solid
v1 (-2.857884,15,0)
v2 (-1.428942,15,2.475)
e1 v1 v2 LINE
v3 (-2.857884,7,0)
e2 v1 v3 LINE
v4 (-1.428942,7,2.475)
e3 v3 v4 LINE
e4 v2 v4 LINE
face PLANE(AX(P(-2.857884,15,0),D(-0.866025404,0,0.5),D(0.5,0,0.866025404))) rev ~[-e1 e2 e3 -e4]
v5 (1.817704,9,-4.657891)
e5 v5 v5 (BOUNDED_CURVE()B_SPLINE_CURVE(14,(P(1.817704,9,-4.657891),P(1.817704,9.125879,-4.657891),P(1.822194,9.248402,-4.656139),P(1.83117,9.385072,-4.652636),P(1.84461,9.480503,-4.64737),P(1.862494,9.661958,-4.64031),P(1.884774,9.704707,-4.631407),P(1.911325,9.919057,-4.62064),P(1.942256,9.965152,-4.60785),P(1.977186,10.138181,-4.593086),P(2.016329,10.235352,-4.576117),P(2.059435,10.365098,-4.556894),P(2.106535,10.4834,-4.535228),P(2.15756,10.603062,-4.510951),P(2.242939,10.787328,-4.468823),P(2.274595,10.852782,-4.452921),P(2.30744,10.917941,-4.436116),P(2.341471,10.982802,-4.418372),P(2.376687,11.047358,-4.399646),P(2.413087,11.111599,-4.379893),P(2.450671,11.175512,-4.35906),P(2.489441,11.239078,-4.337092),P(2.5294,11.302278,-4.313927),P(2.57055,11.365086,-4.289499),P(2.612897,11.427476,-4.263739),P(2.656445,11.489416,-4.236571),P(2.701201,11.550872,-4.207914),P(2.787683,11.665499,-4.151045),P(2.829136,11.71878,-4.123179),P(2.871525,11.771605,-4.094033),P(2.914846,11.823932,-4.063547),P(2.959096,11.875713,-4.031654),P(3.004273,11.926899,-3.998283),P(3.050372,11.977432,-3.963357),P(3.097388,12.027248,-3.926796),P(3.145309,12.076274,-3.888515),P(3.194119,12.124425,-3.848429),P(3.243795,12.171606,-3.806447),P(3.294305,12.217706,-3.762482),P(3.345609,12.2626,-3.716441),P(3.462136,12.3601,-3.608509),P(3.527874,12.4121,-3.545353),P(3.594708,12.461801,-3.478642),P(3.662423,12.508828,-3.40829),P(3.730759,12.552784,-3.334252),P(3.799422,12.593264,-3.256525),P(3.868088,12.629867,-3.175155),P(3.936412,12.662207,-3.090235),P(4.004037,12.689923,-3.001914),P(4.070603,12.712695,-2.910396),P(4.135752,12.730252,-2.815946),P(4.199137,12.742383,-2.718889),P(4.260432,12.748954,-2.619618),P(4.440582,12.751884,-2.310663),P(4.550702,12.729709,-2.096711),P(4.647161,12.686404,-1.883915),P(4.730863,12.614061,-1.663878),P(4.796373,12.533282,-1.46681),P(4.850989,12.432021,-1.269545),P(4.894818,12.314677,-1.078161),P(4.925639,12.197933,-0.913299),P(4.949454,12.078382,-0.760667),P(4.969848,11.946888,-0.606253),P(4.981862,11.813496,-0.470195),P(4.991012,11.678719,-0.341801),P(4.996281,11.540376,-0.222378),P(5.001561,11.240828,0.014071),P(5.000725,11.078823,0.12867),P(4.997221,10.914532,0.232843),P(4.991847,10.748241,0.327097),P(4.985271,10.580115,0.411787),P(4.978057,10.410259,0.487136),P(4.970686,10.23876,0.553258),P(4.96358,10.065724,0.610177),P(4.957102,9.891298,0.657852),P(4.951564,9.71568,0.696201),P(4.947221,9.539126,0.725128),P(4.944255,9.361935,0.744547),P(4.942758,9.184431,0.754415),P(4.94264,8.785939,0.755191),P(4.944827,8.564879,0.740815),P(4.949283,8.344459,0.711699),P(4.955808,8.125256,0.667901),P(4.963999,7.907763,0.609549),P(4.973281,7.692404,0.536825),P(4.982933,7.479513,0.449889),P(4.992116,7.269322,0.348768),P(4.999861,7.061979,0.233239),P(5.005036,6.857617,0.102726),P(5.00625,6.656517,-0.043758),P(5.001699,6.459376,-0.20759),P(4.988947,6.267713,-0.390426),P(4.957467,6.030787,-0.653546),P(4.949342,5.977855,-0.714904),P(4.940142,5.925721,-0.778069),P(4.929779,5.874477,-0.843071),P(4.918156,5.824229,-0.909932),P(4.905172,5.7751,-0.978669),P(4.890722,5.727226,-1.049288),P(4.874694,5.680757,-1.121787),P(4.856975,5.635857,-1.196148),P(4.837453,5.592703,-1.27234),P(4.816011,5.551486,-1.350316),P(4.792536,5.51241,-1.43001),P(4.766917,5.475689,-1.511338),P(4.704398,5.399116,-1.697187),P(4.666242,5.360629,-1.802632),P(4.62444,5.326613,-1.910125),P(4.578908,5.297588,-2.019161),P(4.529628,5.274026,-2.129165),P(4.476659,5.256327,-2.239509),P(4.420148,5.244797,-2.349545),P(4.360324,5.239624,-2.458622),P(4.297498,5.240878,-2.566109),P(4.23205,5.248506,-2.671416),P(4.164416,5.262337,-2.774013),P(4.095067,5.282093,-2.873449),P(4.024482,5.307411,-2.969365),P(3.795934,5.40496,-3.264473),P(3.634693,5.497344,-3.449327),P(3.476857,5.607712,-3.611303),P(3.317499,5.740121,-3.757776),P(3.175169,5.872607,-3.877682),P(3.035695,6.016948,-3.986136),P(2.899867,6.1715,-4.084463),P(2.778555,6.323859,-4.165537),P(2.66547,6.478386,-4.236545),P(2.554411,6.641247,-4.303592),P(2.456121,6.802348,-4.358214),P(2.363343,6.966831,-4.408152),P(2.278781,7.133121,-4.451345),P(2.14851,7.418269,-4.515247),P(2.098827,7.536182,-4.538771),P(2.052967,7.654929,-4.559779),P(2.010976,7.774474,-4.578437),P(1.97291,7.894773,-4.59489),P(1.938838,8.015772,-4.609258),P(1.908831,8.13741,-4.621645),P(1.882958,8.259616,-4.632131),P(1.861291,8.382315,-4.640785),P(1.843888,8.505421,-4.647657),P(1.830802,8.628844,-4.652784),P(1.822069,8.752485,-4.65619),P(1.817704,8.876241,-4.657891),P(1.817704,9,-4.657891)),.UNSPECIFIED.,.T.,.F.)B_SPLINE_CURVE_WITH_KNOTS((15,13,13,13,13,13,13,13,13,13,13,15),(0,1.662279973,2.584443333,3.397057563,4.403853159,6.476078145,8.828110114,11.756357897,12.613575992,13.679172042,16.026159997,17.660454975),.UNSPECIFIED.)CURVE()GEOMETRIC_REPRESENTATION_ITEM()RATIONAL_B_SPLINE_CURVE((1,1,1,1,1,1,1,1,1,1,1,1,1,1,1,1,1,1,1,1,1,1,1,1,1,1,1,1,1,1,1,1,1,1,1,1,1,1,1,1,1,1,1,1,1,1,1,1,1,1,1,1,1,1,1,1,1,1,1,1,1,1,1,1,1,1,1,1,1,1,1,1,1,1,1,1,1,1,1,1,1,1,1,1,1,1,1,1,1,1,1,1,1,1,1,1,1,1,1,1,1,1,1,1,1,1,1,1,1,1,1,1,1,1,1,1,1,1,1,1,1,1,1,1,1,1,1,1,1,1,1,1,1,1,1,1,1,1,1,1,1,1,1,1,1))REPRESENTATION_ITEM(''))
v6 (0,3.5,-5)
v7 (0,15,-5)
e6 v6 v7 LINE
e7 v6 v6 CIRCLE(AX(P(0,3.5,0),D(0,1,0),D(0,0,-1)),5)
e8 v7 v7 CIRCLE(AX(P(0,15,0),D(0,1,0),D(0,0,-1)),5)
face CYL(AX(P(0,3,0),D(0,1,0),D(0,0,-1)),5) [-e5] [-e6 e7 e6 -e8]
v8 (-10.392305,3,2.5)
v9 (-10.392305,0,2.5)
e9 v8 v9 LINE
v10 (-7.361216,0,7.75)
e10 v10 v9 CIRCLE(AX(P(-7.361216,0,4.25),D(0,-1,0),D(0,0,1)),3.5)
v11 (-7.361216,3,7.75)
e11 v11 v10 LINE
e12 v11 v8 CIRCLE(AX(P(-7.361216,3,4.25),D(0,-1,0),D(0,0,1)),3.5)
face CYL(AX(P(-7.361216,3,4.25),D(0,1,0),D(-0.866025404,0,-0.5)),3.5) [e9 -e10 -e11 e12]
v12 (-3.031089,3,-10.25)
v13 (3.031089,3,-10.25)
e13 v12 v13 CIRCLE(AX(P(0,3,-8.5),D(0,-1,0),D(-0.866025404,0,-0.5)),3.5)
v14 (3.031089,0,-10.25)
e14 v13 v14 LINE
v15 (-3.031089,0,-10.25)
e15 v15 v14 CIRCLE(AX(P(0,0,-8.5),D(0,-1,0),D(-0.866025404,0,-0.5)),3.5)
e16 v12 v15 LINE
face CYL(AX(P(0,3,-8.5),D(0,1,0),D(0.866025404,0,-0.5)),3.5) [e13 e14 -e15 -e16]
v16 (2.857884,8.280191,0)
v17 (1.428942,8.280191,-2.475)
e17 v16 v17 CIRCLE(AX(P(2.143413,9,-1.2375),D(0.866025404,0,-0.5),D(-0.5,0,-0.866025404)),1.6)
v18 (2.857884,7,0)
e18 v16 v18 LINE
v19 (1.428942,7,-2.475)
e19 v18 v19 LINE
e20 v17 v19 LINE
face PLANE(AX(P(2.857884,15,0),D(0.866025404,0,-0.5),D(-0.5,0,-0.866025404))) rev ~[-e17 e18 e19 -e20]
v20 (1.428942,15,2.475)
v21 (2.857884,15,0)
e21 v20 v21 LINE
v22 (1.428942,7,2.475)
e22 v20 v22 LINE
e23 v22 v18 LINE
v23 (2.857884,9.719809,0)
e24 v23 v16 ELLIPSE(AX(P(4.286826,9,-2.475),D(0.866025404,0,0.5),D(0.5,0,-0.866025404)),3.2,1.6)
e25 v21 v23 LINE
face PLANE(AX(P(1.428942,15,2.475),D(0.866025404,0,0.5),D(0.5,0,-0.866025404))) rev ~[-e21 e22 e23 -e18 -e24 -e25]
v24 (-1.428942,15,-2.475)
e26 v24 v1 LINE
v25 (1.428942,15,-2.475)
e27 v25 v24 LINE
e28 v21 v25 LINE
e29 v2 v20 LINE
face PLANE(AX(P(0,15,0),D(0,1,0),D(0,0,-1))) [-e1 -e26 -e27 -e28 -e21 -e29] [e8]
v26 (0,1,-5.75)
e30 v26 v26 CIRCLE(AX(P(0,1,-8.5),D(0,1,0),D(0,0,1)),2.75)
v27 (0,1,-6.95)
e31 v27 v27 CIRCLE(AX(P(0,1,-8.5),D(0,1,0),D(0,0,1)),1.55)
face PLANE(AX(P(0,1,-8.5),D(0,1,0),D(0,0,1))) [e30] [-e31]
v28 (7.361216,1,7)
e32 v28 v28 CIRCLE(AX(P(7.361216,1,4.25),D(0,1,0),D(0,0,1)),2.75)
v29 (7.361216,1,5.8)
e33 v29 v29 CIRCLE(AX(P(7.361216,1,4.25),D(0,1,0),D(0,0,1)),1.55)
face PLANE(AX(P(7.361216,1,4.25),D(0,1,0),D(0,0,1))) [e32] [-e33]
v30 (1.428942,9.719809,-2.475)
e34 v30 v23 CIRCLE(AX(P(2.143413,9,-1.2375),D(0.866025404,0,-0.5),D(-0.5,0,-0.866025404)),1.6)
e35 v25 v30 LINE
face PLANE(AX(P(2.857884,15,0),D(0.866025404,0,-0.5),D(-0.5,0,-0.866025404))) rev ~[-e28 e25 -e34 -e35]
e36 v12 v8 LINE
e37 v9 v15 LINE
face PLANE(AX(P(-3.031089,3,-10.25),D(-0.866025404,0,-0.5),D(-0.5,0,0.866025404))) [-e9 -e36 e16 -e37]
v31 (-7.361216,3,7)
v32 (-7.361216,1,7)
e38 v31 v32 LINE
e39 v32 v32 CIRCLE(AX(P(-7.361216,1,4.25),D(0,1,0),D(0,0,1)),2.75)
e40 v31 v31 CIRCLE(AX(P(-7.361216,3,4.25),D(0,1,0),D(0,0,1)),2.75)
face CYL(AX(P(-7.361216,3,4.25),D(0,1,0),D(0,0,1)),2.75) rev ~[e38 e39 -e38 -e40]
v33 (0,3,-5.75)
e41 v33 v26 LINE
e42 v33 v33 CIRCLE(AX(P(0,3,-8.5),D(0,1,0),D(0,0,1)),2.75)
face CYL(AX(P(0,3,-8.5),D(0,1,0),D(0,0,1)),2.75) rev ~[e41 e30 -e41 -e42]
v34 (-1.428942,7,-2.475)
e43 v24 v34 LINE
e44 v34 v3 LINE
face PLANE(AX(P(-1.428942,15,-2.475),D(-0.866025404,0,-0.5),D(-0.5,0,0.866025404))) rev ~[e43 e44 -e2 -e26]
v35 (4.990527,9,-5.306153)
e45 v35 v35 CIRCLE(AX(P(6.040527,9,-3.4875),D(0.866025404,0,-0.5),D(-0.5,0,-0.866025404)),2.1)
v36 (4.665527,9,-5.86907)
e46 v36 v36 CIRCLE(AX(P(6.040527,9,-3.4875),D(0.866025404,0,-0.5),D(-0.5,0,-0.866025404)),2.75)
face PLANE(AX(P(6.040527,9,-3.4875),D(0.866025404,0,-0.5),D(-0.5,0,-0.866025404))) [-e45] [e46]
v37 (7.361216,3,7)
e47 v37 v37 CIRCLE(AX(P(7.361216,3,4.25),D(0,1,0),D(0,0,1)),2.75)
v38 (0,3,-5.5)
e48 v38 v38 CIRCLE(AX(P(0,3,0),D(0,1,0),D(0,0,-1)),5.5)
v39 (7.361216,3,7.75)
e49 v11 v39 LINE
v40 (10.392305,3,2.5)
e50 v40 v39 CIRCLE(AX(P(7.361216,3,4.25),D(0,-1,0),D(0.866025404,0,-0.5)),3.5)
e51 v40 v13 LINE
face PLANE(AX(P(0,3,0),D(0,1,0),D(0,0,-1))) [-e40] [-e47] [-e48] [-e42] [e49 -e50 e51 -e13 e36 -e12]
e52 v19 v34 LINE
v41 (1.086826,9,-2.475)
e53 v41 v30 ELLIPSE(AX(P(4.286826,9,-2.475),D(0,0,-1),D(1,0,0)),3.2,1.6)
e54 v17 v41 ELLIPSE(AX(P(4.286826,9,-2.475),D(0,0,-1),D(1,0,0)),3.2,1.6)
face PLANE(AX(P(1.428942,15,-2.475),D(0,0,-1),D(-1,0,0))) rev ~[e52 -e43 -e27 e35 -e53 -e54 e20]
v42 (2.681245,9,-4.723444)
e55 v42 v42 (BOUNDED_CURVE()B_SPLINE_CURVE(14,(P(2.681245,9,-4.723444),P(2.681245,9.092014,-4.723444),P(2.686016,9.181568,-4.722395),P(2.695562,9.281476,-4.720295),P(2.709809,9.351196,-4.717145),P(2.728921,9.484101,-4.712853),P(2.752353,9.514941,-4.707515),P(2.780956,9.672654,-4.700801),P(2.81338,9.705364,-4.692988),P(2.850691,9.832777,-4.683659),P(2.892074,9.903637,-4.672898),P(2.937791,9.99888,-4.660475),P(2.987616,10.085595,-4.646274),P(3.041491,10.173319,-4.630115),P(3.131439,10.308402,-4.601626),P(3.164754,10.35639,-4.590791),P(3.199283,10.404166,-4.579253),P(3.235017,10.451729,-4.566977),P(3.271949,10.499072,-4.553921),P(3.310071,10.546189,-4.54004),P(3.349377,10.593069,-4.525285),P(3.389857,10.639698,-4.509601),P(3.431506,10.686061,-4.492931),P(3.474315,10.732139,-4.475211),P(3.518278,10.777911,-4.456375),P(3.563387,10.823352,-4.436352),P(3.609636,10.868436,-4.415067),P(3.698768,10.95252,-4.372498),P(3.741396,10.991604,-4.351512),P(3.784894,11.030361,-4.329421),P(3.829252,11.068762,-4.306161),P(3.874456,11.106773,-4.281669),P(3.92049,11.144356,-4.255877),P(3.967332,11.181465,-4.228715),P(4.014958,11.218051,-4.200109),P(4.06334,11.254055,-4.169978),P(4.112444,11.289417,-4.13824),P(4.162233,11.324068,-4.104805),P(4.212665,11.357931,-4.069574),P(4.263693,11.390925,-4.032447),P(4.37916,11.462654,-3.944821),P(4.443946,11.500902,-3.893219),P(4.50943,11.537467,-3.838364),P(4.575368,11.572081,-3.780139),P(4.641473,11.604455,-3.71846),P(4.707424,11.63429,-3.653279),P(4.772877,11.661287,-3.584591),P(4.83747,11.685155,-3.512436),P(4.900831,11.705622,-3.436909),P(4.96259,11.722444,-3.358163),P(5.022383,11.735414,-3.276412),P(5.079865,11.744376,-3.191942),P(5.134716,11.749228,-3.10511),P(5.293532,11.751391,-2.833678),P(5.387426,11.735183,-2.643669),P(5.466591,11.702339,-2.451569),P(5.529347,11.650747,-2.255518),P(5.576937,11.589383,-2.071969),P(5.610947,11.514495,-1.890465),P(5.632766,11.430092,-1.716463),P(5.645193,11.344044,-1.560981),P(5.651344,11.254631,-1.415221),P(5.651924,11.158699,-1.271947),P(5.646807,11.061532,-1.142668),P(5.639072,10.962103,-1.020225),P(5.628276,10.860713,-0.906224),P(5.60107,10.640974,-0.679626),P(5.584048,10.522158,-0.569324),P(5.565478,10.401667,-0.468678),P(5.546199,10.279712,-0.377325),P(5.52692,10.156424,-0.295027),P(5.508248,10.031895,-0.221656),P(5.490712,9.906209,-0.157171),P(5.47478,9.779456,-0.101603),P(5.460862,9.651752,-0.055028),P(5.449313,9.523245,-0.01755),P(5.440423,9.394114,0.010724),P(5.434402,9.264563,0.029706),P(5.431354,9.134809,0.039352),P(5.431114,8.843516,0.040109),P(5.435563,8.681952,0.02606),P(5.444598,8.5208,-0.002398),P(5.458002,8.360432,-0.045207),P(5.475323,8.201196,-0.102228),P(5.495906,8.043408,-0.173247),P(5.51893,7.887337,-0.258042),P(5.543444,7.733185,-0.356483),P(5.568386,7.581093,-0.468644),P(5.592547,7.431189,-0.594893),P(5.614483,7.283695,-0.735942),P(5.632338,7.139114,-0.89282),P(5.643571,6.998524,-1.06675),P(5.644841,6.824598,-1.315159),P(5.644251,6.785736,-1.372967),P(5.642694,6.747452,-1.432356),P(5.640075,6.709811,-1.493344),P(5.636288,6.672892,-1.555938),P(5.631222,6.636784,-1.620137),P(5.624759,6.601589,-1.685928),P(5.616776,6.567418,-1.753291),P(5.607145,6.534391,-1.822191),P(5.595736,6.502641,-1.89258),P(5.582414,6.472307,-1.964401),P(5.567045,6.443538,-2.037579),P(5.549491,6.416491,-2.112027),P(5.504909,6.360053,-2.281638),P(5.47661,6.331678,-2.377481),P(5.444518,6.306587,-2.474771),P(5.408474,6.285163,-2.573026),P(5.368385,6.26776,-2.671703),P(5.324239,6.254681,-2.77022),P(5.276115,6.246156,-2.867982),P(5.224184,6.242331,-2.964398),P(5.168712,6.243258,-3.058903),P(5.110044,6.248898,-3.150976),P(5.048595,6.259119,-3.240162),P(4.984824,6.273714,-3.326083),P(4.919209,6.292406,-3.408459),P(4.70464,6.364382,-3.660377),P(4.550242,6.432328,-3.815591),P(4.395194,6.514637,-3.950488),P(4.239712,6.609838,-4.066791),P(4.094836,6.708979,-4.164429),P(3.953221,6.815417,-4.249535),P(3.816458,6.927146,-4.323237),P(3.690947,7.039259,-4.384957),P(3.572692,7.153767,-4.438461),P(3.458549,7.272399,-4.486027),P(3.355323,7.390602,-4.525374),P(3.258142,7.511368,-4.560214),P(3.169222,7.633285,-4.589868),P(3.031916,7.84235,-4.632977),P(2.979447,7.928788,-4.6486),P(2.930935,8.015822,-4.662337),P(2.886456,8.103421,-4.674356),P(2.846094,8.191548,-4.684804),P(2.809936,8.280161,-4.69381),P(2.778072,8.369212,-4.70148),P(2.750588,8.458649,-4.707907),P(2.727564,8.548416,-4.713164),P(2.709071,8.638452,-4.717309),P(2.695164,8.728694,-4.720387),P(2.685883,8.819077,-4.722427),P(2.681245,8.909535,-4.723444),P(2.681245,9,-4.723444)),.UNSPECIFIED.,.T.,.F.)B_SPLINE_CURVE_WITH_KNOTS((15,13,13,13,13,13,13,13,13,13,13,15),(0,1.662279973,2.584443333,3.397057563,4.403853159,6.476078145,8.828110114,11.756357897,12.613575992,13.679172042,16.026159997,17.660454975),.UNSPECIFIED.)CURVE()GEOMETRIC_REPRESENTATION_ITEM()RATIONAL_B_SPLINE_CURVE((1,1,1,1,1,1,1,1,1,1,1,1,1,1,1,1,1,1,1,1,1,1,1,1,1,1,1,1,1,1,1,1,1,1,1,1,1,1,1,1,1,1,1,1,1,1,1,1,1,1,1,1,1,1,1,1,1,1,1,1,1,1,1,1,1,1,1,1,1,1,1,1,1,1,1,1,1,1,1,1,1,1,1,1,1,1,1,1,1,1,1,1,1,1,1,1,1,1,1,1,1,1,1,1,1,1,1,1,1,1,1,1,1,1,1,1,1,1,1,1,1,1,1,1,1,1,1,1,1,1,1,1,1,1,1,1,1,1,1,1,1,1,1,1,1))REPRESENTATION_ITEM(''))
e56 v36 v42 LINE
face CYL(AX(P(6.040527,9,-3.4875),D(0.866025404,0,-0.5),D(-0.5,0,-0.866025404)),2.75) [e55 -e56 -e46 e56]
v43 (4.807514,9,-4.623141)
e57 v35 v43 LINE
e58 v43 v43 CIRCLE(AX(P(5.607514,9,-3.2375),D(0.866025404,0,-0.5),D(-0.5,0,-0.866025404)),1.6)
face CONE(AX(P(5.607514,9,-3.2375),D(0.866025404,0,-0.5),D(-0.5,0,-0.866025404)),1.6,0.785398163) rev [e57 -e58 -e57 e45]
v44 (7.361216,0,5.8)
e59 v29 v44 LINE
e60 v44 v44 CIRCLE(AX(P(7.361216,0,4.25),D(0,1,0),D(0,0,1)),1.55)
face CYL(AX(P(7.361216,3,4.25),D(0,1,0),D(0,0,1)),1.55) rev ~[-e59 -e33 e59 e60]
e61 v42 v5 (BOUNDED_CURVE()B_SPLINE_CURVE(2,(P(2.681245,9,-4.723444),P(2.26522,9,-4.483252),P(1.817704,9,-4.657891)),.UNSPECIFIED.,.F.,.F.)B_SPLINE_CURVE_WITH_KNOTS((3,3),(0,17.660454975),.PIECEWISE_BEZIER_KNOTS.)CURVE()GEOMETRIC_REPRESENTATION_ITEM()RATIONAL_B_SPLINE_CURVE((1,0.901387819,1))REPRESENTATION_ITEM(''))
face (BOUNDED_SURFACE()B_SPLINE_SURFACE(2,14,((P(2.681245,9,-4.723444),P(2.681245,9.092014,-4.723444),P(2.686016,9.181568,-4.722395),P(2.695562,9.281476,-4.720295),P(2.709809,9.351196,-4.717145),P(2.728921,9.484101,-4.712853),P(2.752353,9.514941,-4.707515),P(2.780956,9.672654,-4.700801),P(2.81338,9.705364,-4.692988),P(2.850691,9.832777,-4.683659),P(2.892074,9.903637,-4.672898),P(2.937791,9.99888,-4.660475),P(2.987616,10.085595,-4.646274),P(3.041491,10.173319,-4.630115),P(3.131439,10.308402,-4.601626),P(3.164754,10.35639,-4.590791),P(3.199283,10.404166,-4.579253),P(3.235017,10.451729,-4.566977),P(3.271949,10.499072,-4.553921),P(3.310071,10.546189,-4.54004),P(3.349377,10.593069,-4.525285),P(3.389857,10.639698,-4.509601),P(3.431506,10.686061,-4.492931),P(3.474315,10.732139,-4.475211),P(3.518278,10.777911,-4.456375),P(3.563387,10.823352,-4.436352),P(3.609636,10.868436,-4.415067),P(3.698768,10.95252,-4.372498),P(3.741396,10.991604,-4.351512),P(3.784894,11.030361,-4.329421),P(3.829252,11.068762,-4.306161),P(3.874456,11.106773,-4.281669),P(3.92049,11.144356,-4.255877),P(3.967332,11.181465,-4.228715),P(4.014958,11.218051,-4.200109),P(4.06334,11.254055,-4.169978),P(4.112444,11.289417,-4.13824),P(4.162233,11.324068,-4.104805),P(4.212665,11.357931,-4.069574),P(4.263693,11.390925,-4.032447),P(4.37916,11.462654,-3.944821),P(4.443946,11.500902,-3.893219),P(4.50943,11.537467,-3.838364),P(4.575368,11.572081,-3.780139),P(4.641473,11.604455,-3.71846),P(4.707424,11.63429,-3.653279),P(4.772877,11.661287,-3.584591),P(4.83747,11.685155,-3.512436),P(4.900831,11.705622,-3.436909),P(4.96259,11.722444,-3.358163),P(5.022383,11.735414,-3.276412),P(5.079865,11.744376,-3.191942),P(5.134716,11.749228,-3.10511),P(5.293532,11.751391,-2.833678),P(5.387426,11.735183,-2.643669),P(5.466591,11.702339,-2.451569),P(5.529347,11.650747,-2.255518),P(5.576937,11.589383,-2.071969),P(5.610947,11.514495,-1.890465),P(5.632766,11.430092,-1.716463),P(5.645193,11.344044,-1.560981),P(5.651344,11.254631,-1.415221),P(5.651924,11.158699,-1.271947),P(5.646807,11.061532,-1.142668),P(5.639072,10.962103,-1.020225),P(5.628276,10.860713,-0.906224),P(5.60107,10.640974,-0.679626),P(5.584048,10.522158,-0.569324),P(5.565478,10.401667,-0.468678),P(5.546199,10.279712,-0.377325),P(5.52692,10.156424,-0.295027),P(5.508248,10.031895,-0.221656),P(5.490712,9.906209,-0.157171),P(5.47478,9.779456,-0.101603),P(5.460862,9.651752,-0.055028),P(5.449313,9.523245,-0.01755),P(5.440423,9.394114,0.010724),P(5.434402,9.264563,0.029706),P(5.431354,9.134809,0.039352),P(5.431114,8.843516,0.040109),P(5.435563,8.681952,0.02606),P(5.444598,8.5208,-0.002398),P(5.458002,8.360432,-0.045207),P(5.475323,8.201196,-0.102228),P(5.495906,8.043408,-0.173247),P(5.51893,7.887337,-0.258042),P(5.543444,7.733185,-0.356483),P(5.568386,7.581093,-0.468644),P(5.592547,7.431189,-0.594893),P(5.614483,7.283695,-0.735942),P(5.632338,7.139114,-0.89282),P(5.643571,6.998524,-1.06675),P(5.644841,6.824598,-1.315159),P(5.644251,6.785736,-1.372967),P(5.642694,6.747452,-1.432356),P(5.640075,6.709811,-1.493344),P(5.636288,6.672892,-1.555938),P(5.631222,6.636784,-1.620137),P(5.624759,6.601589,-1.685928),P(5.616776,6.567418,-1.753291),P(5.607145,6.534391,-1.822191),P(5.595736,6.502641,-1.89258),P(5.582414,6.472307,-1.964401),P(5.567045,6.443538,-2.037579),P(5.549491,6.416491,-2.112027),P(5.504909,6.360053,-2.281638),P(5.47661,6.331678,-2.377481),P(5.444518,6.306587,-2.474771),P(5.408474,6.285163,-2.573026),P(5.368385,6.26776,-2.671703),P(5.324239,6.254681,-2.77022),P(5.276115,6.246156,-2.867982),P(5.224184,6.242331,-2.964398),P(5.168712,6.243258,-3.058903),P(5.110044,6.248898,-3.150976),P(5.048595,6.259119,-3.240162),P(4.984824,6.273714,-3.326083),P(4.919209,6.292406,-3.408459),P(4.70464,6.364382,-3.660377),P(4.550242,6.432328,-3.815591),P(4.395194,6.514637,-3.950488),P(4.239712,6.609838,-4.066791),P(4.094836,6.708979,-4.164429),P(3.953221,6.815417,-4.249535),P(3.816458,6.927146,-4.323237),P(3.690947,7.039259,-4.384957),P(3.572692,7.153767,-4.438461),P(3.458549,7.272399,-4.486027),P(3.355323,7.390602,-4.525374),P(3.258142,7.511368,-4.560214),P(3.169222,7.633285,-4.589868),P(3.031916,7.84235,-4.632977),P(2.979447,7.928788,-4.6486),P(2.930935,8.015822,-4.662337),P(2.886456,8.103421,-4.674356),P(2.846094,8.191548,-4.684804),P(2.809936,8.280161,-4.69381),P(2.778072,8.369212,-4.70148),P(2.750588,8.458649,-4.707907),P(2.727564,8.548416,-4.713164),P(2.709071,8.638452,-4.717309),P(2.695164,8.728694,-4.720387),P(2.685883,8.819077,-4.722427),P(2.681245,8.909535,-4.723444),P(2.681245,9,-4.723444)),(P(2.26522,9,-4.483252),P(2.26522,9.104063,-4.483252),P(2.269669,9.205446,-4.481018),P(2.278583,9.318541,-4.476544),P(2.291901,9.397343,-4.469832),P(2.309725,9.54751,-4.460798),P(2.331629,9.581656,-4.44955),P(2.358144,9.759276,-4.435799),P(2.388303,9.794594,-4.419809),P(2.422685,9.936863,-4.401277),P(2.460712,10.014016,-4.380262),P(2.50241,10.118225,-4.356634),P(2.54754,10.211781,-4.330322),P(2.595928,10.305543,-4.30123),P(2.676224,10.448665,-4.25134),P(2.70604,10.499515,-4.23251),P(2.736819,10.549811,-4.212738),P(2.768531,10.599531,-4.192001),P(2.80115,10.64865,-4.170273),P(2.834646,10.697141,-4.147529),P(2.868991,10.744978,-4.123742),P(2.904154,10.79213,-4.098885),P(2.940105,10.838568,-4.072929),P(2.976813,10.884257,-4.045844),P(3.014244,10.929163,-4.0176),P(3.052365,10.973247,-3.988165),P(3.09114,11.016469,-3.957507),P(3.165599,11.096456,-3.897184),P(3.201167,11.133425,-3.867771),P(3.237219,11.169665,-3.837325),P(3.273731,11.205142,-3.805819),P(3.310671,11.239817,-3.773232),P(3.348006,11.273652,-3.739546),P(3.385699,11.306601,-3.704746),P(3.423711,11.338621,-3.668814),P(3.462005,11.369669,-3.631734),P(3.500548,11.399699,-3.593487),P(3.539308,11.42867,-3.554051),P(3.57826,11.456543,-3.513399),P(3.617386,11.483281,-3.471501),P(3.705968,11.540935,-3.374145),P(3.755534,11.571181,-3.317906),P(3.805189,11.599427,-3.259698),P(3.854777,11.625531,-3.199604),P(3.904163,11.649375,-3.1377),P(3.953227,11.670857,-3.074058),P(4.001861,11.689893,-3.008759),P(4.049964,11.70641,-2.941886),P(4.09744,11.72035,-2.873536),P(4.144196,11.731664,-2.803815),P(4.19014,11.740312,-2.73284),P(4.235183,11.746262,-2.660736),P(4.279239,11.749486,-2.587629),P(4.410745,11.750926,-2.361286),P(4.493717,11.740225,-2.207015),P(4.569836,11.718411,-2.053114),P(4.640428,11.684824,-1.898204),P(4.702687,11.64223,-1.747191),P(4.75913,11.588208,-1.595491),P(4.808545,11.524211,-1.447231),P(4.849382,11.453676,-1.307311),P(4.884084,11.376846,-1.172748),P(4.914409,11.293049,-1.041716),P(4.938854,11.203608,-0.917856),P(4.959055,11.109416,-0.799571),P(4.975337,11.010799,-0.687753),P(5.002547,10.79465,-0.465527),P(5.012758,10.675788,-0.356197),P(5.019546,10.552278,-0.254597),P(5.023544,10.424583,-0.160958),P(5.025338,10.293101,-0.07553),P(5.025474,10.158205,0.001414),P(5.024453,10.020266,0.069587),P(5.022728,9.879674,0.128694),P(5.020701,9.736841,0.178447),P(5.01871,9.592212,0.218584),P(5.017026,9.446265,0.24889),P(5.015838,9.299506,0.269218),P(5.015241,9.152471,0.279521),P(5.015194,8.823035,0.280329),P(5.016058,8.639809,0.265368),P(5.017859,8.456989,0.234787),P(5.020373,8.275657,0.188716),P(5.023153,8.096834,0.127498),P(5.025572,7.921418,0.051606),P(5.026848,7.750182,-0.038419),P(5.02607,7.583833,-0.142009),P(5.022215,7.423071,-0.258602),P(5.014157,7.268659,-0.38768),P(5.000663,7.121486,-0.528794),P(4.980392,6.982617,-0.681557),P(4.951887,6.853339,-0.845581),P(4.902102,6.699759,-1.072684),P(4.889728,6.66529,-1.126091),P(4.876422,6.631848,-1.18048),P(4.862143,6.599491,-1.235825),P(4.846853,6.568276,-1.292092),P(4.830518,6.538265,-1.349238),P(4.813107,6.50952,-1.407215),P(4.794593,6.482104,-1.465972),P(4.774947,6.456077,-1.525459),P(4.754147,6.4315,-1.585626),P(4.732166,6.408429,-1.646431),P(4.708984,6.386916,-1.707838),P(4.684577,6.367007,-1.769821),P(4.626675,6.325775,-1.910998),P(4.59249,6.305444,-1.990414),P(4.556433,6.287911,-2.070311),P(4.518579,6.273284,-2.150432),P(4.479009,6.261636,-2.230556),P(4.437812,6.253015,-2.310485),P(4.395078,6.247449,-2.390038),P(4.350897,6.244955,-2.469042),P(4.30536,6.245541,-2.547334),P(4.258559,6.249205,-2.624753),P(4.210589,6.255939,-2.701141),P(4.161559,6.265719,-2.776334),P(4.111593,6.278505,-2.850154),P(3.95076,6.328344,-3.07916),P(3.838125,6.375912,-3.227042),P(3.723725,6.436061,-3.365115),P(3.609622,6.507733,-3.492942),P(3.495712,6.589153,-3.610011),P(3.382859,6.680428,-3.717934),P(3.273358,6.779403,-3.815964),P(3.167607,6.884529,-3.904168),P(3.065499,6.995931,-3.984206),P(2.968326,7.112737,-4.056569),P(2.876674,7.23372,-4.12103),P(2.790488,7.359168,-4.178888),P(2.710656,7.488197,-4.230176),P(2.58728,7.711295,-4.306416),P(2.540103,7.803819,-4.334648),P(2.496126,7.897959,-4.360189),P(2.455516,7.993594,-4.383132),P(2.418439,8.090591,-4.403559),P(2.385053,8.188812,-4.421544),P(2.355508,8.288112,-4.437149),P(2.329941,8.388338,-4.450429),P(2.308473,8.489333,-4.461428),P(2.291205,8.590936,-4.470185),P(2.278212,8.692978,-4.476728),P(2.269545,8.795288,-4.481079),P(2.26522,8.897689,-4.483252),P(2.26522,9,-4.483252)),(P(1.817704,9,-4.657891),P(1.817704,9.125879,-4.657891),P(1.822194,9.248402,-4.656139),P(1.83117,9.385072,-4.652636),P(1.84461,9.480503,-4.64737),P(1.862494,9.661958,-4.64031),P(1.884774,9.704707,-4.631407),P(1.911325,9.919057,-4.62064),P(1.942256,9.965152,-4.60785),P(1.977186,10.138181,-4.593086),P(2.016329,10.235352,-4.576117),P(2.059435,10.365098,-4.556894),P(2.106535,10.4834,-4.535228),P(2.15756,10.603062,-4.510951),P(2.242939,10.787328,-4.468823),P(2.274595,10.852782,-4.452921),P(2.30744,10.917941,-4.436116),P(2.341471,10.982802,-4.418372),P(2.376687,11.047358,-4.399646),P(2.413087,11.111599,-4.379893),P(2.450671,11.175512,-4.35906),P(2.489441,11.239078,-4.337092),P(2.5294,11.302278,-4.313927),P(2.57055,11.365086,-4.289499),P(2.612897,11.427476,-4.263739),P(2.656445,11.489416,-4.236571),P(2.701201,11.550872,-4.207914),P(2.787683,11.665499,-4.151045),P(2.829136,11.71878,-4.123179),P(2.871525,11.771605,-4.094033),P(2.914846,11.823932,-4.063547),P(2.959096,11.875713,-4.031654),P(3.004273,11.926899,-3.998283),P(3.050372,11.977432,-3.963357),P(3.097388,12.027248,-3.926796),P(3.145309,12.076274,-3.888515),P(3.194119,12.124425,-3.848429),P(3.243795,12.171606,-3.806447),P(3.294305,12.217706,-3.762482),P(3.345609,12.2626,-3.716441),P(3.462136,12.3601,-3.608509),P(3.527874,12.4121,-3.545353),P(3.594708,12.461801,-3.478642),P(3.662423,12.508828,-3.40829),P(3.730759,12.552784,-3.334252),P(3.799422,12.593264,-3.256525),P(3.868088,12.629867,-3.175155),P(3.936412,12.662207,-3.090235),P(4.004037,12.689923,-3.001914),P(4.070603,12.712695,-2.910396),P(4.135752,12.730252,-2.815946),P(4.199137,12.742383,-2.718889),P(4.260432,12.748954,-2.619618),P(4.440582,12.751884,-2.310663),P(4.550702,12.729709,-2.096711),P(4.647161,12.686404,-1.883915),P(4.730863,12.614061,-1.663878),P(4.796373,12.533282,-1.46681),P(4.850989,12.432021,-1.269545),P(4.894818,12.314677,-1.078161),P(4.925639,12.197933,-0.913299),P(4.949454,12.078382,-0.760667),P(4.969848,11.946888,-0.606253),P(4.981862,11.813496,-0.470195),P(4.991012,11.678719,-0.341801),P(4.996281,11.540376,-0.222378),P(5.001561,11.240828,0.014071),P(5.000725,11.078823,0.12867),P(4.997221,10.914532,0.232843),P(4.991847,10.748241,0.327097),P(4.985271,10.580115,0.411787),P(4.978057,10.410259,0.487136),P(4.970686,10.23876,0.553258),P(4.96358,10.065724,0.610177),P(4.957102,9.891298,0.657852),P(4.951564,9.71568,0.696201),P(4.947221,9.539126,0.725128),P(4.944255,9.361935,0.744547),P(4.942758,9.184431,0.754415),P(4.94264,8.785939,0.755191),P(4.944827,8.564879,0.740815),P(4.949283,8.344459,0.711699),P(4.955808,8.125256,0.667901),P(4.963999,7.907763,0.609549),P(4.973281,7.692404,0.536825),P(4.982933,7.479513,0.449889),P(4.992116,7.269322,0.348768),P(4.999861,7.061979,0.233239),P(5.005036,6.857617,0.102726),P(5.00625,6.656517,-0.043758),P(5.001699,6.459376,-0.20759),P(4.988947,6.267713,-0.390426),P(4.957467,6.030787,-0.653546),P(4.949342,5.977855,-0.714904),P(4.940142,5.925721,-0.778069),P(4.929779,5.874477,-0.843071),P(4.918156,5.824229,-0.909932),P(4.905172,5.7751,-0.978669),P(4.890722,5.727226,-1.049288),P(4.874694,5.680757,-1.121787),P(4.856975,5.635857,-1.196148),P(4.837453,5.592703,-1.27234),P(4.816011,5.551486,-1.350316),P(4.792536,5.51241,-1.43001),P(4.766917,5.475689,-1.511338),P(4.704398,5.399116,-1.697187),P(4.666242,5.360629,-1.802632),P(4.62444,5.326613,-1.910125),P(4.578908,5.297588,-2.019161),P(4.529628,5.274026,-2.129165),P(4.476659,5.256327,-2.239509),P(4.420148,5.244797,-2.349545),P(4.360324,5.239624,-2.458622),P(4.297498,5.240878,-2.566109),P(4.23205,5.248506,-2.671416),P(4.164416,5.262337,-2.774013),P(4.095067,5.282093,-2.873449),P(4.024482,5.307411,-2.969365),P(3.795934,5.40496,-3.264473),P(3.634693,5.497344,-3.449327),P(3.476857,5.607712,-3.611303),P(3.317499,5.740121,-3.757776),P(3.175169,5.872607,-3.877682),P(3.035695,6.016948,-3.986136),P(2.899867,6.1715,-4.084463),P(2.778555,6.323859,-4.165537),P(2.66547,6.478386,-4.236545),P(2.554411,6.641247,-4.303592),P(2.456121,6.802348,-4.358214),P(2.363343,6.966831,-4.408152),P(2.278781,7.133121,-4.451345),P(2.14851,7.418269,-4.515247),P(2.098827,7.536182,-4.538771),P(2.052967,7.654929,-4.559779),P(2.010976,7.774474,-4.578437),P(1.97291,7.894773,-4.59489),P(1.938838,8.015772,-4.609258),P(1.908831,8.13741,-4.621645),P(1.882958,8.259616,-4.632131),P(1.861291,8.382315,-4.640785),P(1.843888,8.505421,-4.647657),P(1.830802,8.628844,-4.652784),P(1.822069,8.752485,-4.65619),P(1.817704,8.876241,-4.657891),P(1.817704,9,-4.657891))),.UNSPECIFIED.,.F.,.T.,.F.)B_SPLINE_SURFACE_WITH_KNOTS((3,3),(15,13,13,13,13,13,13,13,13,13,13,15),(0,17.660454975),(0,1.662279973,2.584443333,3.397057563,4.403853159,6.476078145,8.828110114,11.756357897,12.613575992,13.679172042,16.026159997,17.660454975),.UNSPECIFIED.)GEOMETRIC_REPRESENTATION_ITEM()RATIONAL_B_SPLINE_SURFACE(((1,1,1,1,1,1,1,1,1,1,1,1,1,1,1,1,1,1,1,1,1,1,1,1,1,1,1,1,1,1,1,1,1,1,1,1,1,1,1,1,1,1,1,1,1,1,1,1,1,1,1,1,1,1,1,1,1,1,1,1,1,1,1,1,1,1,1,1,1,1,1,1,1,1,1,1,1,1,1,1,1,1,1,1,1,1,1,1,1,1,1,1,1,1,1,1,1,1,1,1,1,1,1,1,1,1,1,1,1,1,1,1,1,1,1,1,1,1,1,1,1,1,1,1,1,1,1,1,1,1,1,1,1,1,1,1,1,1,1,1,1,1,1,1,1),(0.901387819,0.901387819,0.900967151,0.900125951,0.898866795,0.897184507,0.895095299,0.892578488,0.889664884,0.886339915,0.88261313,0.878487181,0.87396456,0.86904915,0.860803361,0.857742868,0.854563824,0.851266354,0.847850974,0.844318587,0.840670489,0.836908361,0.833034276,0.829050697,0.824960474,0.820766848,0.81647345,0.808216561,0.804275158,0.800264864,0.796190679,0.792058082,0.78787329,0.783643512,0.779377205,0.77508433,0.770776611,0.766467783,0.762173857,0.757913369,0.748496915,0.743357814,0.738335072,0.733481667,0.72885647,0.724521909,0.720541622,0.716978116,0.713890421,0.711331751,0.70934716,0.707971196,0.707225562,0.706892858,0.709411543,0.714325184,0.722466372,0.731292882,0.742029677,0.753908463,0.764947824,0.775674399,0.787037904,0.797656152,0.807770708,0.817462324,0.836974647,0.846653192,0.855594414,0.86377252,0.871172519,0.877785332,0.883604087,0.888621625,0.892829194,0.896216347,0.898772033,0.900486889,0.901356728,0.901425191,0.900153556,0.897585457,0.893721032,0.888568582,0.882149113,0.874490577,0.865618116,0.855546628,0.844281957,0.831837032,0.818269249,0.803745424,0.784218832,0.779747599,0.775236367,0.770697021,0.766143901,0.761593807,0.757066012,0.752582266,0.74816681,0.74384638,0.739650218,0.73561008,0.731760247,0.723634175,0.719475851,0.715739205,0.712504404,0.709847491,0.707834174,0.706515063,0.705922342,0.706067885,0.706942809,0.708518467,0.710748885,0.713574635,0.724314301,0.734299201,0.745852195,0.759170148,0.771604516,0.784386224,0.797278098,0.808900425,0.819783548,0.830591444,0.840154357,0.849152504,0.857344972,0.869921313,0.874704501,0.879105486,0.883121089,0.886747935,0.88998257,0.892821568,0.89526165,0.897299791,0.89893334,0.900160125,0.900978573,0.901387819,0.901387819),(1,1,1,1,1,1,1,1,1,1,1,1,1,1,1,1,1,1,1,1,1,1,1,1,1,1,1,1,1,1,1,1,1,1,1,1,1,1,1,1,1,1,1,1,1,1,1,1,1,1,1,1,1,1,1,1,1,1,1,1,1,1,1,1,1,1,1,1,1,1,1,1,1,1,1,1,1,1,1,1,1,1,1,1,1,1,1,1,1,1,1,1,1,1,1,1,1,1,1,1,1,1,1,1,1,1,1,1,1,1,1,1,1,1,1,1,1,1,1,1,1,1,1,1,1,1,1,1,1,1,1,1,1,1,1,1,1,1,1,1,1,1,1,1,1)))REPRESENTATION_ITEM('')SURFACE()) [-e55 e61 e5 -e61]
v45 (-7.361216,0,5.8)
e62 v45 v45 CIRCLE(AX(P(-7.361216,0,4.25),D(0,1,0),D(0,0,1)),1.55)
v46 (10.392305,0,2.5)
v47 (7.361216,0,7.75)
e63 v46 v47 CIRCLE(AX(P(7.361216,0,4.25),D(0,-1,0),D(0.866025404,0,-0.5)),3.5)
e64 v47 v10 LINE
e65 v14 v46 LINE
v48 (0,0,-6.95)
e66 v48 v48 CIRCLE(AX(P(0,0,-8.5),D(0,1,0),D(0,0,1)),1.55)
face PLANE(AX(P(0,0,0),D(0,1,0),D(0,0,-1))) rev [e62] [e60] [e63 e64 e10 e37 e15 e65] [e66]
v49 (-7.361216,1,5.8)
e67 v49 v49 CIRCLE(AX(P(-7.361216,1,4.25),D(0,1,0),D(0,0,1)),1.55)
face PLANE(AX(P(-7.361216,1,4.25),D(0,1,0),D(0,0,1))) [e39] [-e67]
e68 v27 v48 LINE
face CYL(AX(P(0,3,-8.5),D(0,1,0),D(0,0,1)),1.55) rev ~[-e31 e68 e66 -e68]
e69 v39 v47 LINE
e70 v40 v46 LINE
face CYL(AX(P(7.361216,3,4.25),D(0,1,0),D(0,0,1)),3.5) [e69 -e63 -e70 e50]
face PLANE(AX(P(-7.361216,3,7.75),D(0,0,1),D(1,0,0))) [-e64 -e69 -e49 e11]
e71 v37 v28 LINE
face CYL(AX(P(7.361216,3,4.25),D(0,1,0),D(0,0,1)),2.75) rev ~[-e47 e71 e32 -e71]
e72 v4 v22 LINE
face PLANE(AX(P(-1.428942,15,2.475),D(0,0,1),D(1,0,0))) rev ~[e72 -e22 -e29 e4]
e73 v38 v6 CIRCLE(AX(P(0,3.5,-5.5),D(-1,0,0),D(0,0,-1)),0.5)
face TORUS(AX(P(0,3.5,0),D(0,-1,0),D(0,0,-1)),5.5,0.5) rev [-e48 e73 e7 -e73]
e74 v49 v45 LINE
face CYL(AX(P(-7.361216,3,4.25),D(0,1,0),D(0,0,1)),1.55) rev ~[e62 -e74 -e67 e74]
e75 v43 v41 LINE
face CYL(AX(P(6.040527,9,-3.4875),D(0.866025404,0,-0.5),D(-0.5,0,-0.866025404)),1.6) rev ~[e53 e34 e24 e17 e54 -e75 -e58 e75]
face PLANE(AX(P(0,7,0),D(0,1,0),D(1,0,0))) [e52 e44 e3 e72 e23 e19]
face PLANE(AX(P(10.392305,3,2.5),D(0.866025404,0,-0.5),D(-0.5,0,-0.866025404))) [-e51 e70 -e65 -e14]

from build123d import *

# Parameters (mm, degrees)
SKETCH4_R                = 2.75
CUT_EXTRUDE4_DEPTH       = 2
SKETCH5_OUTSIDE_W        = 33.422
SKETCH5_OUTSIDE_H        = 33.422
CUT_EXTRUDE5_DEPTH       = 21.784609691
CUT_EXTRUDE2_DEPTH       = 8
BOSS_EXTRUDE1_REACH      = 27.238
BOSS_EXTRUDE1_END_RADIUS = 5
SKETCH3_R                = 2.75
CUT_EXTRUDE6_REACH       = 27.238
SKETCH6_R                = 1.6
FILLET1_R                = 0.5
CHAMFER1_SIZE            = 0.5
FILLET2_R                = 1
SKETCH7_R                = 1.55
CUT_EXTRUDE7_DEPTH       = 21.148598312


with BuildPart() as part:
    # Sketch1 → Revolve1 (revolve)
    with BuildSketch(Plane(origin=(0, 0, 0), x_dir=(0, 0, -1), z_dir=(1, 0, 0))):
        Polygon((0, 0), (12, 0), (12, 3), (5, 3), (5, 15), (0, 15), (0, 5.353547723), align=None)
    revolve(axis=Axis((0, 5.353547723, 0), (0, 1, 0)))

    # Sketch4 → Cut-Extrude4 (cut)
    with BuildSketch(Plane(origin=(0, 3, 0), x_dir=(1, 0, 0), z_dir=(0, 1, 0))):
        with Locations(Location((0, 8.5, 0), (0, 0, 270))):
            Circle(SKETCH4_R)
        with Locations(Location((7.361215932, -4.25, 0), (0, 0, 270))):
            Circle(SKETCH4_R)
        with Locations(Location((-7.361215932, -4.25, 0), (0, 0, 270))):
            Circle(SKETCH4_R)
    extrude(amount=-CUT_EXTRUDE4_DEPTH, mode=Mode.SUBTRACT)

    # Sketch5 outside → Cut-Extrude5 (cut, through all)
    with BuildSketch(Plane(origin=(0, 3, 0), x_dir=(1, 0, 0), z_dir=(0, 1, 0))):
        Rectangle(SKETCH5_OUTSIDE_W, SKETCH5_OUTSIDE_H)
        with BuildLine():
            Line((-3.031088913, 10.25), (-10.392304845, -2.5))
            ThreePointArc((-10.392304845, -2.5), (-10.392304845, -6), (-7.361215932, -7.75))
            Line((-7.361215932, -7.75), (7.361215932, -7.75))
            ThreePointArc((7.361215932, -7.75), (10.392304845, -6), (10.392304845, -2.5))
            Line((10.392304845, -2.5), (3.031088913, 10.25))
            ThreePointArc((3.031088913, 10.25), (0, 12), (-3.031088913, 10.25))
        make_face(mode=Mode.SUBTRACT)
    extrude(amount=-CUT_EXTRUDE5_DEPTH, mode=Mode.SUBTRACT)

    # Sketch2 → Cut-Extrude2 (cut)
    with BuildSketch(Plane(origin=(0, 15, 0), x_dir=(1, 0, 0), z_dir=(0, 1, 0))):
        Polygon((2.857883832, 0), (1.428941916, 2.475), (-1.428941916, 2.475), (-2.857883832, 0), (-1.428941916, -2.475), (1.428941916, -2.475), align=None)
    extrude(amount=-CUT_EXTRUDE2_DEPTH, mode=Mode.SUBTRACT)

    # Boss-Extrude1: up to this cylinder (the profile starts outside it)
    boss_extrude1_end = Plane(origin=(0, 9, 0), z_dir=(0, -1, 0)) * Cylinder(BOSS_EXTRUDE1_END_RADIUS, 65.476, mode=Mode.PRIVATE)
    # Sketch3 → Boss-Extrude1 (add, up to the surface)
    with BuildSketch(Plane(origin=(6.040527191, 0, -3.4875), x_dir=(-0.5000000000000001, 0, -0.8660254037844386), z_dir=(0.8660254037844386, 0, -0.5000000000000001)), mode=Mode.PRIVATE) as boss_extrude1_sk1:
        with Locations((0, 9)):
            Circle(SKETCH3_R)
    boss_extrude1_tool1 = extrude(boss_extrude1_sk1.sketch, amount=-BOSS_EXTRUDE1_REACH, mode=Mode.PRIVATE) - boss_extrude1_end
    add(boss_extrude1_tool1.solids().sort_by_distance((6.040527, 9, -3.4875))[0])

    # Sketch6 → Cut-Extrude6 (cut, up to next)
    with BuildSketch(Plane(origin=(6.040527191, 0, -3.4875), x_dir=(-0.5000000000000001, 0, -0.8660254037844386), z_dir=(0.8660254037844386, 0, -0.5000000000000001)), mode=Mode.PRIVATE) as cut_extrude6_sk1:
        with Locations((0, 9)):
            Circle(SKETCH6_R)
    cut_extrude6_tool1 = extrude(cut_extrude6_sk1.sketch, amount=-CUT_EXTRUDE6_REACH, mode=Mode.PRIVATE) & part.part
    add(cut_extrude6_tool1.solids().sort_by_distance((6.040527, 9, -3.4875))[0], mode=Mode.SUBTRACT)

    # Fillet1
    fillet1_edges = [part.edges().sort_by_distance(p)[0] for p in [
        (0, 3, 5),
    ]]
    fillet(fillet1_edges, radius=FILLET1_R)

    # Chamfer1
    chamfer1_edges = [part.edges().sort_by_distance(p)[0] for p in [
        (6.840527191, 9, -2.101859354),
    ]]
    chamfer(chamfer1_edges, length=CHAMFER1_SIZE)

    # Fillet2
    fillet2_edges = [part.edges().sort_by_distance(p)[0] for p in [
        (4.991369035, 8.999999998, 0.293658225),
    ]]
    fillet(fillet2_edges, radius=FILLET2_R)

    # Sketch7 → Cut-Extrude7 (cut, through all)
    with BuildSketch(Plane(origin=(0, 3, 0), x_dir=(1, 0, 0), z_dir=(0, 1, 0))):
        with Locations(Location((0, 8.5, 0), (0, 0, 270))):
            Circle(SKETCH7_R)
        with Locations(Location((7.361215932, -4.25, 0), (0, 0, 270))):
            Circle(SKETCH7_R)
        with Locations(Location((-7.361215932, -4.25, 0), (0, 0, 270))):
            Circle(SKETCH7_R)
    extrude(amount=-CUT_EXTRUDE7_DEPTH, mode=Mode.SUBTRACT)


solid = part.part
